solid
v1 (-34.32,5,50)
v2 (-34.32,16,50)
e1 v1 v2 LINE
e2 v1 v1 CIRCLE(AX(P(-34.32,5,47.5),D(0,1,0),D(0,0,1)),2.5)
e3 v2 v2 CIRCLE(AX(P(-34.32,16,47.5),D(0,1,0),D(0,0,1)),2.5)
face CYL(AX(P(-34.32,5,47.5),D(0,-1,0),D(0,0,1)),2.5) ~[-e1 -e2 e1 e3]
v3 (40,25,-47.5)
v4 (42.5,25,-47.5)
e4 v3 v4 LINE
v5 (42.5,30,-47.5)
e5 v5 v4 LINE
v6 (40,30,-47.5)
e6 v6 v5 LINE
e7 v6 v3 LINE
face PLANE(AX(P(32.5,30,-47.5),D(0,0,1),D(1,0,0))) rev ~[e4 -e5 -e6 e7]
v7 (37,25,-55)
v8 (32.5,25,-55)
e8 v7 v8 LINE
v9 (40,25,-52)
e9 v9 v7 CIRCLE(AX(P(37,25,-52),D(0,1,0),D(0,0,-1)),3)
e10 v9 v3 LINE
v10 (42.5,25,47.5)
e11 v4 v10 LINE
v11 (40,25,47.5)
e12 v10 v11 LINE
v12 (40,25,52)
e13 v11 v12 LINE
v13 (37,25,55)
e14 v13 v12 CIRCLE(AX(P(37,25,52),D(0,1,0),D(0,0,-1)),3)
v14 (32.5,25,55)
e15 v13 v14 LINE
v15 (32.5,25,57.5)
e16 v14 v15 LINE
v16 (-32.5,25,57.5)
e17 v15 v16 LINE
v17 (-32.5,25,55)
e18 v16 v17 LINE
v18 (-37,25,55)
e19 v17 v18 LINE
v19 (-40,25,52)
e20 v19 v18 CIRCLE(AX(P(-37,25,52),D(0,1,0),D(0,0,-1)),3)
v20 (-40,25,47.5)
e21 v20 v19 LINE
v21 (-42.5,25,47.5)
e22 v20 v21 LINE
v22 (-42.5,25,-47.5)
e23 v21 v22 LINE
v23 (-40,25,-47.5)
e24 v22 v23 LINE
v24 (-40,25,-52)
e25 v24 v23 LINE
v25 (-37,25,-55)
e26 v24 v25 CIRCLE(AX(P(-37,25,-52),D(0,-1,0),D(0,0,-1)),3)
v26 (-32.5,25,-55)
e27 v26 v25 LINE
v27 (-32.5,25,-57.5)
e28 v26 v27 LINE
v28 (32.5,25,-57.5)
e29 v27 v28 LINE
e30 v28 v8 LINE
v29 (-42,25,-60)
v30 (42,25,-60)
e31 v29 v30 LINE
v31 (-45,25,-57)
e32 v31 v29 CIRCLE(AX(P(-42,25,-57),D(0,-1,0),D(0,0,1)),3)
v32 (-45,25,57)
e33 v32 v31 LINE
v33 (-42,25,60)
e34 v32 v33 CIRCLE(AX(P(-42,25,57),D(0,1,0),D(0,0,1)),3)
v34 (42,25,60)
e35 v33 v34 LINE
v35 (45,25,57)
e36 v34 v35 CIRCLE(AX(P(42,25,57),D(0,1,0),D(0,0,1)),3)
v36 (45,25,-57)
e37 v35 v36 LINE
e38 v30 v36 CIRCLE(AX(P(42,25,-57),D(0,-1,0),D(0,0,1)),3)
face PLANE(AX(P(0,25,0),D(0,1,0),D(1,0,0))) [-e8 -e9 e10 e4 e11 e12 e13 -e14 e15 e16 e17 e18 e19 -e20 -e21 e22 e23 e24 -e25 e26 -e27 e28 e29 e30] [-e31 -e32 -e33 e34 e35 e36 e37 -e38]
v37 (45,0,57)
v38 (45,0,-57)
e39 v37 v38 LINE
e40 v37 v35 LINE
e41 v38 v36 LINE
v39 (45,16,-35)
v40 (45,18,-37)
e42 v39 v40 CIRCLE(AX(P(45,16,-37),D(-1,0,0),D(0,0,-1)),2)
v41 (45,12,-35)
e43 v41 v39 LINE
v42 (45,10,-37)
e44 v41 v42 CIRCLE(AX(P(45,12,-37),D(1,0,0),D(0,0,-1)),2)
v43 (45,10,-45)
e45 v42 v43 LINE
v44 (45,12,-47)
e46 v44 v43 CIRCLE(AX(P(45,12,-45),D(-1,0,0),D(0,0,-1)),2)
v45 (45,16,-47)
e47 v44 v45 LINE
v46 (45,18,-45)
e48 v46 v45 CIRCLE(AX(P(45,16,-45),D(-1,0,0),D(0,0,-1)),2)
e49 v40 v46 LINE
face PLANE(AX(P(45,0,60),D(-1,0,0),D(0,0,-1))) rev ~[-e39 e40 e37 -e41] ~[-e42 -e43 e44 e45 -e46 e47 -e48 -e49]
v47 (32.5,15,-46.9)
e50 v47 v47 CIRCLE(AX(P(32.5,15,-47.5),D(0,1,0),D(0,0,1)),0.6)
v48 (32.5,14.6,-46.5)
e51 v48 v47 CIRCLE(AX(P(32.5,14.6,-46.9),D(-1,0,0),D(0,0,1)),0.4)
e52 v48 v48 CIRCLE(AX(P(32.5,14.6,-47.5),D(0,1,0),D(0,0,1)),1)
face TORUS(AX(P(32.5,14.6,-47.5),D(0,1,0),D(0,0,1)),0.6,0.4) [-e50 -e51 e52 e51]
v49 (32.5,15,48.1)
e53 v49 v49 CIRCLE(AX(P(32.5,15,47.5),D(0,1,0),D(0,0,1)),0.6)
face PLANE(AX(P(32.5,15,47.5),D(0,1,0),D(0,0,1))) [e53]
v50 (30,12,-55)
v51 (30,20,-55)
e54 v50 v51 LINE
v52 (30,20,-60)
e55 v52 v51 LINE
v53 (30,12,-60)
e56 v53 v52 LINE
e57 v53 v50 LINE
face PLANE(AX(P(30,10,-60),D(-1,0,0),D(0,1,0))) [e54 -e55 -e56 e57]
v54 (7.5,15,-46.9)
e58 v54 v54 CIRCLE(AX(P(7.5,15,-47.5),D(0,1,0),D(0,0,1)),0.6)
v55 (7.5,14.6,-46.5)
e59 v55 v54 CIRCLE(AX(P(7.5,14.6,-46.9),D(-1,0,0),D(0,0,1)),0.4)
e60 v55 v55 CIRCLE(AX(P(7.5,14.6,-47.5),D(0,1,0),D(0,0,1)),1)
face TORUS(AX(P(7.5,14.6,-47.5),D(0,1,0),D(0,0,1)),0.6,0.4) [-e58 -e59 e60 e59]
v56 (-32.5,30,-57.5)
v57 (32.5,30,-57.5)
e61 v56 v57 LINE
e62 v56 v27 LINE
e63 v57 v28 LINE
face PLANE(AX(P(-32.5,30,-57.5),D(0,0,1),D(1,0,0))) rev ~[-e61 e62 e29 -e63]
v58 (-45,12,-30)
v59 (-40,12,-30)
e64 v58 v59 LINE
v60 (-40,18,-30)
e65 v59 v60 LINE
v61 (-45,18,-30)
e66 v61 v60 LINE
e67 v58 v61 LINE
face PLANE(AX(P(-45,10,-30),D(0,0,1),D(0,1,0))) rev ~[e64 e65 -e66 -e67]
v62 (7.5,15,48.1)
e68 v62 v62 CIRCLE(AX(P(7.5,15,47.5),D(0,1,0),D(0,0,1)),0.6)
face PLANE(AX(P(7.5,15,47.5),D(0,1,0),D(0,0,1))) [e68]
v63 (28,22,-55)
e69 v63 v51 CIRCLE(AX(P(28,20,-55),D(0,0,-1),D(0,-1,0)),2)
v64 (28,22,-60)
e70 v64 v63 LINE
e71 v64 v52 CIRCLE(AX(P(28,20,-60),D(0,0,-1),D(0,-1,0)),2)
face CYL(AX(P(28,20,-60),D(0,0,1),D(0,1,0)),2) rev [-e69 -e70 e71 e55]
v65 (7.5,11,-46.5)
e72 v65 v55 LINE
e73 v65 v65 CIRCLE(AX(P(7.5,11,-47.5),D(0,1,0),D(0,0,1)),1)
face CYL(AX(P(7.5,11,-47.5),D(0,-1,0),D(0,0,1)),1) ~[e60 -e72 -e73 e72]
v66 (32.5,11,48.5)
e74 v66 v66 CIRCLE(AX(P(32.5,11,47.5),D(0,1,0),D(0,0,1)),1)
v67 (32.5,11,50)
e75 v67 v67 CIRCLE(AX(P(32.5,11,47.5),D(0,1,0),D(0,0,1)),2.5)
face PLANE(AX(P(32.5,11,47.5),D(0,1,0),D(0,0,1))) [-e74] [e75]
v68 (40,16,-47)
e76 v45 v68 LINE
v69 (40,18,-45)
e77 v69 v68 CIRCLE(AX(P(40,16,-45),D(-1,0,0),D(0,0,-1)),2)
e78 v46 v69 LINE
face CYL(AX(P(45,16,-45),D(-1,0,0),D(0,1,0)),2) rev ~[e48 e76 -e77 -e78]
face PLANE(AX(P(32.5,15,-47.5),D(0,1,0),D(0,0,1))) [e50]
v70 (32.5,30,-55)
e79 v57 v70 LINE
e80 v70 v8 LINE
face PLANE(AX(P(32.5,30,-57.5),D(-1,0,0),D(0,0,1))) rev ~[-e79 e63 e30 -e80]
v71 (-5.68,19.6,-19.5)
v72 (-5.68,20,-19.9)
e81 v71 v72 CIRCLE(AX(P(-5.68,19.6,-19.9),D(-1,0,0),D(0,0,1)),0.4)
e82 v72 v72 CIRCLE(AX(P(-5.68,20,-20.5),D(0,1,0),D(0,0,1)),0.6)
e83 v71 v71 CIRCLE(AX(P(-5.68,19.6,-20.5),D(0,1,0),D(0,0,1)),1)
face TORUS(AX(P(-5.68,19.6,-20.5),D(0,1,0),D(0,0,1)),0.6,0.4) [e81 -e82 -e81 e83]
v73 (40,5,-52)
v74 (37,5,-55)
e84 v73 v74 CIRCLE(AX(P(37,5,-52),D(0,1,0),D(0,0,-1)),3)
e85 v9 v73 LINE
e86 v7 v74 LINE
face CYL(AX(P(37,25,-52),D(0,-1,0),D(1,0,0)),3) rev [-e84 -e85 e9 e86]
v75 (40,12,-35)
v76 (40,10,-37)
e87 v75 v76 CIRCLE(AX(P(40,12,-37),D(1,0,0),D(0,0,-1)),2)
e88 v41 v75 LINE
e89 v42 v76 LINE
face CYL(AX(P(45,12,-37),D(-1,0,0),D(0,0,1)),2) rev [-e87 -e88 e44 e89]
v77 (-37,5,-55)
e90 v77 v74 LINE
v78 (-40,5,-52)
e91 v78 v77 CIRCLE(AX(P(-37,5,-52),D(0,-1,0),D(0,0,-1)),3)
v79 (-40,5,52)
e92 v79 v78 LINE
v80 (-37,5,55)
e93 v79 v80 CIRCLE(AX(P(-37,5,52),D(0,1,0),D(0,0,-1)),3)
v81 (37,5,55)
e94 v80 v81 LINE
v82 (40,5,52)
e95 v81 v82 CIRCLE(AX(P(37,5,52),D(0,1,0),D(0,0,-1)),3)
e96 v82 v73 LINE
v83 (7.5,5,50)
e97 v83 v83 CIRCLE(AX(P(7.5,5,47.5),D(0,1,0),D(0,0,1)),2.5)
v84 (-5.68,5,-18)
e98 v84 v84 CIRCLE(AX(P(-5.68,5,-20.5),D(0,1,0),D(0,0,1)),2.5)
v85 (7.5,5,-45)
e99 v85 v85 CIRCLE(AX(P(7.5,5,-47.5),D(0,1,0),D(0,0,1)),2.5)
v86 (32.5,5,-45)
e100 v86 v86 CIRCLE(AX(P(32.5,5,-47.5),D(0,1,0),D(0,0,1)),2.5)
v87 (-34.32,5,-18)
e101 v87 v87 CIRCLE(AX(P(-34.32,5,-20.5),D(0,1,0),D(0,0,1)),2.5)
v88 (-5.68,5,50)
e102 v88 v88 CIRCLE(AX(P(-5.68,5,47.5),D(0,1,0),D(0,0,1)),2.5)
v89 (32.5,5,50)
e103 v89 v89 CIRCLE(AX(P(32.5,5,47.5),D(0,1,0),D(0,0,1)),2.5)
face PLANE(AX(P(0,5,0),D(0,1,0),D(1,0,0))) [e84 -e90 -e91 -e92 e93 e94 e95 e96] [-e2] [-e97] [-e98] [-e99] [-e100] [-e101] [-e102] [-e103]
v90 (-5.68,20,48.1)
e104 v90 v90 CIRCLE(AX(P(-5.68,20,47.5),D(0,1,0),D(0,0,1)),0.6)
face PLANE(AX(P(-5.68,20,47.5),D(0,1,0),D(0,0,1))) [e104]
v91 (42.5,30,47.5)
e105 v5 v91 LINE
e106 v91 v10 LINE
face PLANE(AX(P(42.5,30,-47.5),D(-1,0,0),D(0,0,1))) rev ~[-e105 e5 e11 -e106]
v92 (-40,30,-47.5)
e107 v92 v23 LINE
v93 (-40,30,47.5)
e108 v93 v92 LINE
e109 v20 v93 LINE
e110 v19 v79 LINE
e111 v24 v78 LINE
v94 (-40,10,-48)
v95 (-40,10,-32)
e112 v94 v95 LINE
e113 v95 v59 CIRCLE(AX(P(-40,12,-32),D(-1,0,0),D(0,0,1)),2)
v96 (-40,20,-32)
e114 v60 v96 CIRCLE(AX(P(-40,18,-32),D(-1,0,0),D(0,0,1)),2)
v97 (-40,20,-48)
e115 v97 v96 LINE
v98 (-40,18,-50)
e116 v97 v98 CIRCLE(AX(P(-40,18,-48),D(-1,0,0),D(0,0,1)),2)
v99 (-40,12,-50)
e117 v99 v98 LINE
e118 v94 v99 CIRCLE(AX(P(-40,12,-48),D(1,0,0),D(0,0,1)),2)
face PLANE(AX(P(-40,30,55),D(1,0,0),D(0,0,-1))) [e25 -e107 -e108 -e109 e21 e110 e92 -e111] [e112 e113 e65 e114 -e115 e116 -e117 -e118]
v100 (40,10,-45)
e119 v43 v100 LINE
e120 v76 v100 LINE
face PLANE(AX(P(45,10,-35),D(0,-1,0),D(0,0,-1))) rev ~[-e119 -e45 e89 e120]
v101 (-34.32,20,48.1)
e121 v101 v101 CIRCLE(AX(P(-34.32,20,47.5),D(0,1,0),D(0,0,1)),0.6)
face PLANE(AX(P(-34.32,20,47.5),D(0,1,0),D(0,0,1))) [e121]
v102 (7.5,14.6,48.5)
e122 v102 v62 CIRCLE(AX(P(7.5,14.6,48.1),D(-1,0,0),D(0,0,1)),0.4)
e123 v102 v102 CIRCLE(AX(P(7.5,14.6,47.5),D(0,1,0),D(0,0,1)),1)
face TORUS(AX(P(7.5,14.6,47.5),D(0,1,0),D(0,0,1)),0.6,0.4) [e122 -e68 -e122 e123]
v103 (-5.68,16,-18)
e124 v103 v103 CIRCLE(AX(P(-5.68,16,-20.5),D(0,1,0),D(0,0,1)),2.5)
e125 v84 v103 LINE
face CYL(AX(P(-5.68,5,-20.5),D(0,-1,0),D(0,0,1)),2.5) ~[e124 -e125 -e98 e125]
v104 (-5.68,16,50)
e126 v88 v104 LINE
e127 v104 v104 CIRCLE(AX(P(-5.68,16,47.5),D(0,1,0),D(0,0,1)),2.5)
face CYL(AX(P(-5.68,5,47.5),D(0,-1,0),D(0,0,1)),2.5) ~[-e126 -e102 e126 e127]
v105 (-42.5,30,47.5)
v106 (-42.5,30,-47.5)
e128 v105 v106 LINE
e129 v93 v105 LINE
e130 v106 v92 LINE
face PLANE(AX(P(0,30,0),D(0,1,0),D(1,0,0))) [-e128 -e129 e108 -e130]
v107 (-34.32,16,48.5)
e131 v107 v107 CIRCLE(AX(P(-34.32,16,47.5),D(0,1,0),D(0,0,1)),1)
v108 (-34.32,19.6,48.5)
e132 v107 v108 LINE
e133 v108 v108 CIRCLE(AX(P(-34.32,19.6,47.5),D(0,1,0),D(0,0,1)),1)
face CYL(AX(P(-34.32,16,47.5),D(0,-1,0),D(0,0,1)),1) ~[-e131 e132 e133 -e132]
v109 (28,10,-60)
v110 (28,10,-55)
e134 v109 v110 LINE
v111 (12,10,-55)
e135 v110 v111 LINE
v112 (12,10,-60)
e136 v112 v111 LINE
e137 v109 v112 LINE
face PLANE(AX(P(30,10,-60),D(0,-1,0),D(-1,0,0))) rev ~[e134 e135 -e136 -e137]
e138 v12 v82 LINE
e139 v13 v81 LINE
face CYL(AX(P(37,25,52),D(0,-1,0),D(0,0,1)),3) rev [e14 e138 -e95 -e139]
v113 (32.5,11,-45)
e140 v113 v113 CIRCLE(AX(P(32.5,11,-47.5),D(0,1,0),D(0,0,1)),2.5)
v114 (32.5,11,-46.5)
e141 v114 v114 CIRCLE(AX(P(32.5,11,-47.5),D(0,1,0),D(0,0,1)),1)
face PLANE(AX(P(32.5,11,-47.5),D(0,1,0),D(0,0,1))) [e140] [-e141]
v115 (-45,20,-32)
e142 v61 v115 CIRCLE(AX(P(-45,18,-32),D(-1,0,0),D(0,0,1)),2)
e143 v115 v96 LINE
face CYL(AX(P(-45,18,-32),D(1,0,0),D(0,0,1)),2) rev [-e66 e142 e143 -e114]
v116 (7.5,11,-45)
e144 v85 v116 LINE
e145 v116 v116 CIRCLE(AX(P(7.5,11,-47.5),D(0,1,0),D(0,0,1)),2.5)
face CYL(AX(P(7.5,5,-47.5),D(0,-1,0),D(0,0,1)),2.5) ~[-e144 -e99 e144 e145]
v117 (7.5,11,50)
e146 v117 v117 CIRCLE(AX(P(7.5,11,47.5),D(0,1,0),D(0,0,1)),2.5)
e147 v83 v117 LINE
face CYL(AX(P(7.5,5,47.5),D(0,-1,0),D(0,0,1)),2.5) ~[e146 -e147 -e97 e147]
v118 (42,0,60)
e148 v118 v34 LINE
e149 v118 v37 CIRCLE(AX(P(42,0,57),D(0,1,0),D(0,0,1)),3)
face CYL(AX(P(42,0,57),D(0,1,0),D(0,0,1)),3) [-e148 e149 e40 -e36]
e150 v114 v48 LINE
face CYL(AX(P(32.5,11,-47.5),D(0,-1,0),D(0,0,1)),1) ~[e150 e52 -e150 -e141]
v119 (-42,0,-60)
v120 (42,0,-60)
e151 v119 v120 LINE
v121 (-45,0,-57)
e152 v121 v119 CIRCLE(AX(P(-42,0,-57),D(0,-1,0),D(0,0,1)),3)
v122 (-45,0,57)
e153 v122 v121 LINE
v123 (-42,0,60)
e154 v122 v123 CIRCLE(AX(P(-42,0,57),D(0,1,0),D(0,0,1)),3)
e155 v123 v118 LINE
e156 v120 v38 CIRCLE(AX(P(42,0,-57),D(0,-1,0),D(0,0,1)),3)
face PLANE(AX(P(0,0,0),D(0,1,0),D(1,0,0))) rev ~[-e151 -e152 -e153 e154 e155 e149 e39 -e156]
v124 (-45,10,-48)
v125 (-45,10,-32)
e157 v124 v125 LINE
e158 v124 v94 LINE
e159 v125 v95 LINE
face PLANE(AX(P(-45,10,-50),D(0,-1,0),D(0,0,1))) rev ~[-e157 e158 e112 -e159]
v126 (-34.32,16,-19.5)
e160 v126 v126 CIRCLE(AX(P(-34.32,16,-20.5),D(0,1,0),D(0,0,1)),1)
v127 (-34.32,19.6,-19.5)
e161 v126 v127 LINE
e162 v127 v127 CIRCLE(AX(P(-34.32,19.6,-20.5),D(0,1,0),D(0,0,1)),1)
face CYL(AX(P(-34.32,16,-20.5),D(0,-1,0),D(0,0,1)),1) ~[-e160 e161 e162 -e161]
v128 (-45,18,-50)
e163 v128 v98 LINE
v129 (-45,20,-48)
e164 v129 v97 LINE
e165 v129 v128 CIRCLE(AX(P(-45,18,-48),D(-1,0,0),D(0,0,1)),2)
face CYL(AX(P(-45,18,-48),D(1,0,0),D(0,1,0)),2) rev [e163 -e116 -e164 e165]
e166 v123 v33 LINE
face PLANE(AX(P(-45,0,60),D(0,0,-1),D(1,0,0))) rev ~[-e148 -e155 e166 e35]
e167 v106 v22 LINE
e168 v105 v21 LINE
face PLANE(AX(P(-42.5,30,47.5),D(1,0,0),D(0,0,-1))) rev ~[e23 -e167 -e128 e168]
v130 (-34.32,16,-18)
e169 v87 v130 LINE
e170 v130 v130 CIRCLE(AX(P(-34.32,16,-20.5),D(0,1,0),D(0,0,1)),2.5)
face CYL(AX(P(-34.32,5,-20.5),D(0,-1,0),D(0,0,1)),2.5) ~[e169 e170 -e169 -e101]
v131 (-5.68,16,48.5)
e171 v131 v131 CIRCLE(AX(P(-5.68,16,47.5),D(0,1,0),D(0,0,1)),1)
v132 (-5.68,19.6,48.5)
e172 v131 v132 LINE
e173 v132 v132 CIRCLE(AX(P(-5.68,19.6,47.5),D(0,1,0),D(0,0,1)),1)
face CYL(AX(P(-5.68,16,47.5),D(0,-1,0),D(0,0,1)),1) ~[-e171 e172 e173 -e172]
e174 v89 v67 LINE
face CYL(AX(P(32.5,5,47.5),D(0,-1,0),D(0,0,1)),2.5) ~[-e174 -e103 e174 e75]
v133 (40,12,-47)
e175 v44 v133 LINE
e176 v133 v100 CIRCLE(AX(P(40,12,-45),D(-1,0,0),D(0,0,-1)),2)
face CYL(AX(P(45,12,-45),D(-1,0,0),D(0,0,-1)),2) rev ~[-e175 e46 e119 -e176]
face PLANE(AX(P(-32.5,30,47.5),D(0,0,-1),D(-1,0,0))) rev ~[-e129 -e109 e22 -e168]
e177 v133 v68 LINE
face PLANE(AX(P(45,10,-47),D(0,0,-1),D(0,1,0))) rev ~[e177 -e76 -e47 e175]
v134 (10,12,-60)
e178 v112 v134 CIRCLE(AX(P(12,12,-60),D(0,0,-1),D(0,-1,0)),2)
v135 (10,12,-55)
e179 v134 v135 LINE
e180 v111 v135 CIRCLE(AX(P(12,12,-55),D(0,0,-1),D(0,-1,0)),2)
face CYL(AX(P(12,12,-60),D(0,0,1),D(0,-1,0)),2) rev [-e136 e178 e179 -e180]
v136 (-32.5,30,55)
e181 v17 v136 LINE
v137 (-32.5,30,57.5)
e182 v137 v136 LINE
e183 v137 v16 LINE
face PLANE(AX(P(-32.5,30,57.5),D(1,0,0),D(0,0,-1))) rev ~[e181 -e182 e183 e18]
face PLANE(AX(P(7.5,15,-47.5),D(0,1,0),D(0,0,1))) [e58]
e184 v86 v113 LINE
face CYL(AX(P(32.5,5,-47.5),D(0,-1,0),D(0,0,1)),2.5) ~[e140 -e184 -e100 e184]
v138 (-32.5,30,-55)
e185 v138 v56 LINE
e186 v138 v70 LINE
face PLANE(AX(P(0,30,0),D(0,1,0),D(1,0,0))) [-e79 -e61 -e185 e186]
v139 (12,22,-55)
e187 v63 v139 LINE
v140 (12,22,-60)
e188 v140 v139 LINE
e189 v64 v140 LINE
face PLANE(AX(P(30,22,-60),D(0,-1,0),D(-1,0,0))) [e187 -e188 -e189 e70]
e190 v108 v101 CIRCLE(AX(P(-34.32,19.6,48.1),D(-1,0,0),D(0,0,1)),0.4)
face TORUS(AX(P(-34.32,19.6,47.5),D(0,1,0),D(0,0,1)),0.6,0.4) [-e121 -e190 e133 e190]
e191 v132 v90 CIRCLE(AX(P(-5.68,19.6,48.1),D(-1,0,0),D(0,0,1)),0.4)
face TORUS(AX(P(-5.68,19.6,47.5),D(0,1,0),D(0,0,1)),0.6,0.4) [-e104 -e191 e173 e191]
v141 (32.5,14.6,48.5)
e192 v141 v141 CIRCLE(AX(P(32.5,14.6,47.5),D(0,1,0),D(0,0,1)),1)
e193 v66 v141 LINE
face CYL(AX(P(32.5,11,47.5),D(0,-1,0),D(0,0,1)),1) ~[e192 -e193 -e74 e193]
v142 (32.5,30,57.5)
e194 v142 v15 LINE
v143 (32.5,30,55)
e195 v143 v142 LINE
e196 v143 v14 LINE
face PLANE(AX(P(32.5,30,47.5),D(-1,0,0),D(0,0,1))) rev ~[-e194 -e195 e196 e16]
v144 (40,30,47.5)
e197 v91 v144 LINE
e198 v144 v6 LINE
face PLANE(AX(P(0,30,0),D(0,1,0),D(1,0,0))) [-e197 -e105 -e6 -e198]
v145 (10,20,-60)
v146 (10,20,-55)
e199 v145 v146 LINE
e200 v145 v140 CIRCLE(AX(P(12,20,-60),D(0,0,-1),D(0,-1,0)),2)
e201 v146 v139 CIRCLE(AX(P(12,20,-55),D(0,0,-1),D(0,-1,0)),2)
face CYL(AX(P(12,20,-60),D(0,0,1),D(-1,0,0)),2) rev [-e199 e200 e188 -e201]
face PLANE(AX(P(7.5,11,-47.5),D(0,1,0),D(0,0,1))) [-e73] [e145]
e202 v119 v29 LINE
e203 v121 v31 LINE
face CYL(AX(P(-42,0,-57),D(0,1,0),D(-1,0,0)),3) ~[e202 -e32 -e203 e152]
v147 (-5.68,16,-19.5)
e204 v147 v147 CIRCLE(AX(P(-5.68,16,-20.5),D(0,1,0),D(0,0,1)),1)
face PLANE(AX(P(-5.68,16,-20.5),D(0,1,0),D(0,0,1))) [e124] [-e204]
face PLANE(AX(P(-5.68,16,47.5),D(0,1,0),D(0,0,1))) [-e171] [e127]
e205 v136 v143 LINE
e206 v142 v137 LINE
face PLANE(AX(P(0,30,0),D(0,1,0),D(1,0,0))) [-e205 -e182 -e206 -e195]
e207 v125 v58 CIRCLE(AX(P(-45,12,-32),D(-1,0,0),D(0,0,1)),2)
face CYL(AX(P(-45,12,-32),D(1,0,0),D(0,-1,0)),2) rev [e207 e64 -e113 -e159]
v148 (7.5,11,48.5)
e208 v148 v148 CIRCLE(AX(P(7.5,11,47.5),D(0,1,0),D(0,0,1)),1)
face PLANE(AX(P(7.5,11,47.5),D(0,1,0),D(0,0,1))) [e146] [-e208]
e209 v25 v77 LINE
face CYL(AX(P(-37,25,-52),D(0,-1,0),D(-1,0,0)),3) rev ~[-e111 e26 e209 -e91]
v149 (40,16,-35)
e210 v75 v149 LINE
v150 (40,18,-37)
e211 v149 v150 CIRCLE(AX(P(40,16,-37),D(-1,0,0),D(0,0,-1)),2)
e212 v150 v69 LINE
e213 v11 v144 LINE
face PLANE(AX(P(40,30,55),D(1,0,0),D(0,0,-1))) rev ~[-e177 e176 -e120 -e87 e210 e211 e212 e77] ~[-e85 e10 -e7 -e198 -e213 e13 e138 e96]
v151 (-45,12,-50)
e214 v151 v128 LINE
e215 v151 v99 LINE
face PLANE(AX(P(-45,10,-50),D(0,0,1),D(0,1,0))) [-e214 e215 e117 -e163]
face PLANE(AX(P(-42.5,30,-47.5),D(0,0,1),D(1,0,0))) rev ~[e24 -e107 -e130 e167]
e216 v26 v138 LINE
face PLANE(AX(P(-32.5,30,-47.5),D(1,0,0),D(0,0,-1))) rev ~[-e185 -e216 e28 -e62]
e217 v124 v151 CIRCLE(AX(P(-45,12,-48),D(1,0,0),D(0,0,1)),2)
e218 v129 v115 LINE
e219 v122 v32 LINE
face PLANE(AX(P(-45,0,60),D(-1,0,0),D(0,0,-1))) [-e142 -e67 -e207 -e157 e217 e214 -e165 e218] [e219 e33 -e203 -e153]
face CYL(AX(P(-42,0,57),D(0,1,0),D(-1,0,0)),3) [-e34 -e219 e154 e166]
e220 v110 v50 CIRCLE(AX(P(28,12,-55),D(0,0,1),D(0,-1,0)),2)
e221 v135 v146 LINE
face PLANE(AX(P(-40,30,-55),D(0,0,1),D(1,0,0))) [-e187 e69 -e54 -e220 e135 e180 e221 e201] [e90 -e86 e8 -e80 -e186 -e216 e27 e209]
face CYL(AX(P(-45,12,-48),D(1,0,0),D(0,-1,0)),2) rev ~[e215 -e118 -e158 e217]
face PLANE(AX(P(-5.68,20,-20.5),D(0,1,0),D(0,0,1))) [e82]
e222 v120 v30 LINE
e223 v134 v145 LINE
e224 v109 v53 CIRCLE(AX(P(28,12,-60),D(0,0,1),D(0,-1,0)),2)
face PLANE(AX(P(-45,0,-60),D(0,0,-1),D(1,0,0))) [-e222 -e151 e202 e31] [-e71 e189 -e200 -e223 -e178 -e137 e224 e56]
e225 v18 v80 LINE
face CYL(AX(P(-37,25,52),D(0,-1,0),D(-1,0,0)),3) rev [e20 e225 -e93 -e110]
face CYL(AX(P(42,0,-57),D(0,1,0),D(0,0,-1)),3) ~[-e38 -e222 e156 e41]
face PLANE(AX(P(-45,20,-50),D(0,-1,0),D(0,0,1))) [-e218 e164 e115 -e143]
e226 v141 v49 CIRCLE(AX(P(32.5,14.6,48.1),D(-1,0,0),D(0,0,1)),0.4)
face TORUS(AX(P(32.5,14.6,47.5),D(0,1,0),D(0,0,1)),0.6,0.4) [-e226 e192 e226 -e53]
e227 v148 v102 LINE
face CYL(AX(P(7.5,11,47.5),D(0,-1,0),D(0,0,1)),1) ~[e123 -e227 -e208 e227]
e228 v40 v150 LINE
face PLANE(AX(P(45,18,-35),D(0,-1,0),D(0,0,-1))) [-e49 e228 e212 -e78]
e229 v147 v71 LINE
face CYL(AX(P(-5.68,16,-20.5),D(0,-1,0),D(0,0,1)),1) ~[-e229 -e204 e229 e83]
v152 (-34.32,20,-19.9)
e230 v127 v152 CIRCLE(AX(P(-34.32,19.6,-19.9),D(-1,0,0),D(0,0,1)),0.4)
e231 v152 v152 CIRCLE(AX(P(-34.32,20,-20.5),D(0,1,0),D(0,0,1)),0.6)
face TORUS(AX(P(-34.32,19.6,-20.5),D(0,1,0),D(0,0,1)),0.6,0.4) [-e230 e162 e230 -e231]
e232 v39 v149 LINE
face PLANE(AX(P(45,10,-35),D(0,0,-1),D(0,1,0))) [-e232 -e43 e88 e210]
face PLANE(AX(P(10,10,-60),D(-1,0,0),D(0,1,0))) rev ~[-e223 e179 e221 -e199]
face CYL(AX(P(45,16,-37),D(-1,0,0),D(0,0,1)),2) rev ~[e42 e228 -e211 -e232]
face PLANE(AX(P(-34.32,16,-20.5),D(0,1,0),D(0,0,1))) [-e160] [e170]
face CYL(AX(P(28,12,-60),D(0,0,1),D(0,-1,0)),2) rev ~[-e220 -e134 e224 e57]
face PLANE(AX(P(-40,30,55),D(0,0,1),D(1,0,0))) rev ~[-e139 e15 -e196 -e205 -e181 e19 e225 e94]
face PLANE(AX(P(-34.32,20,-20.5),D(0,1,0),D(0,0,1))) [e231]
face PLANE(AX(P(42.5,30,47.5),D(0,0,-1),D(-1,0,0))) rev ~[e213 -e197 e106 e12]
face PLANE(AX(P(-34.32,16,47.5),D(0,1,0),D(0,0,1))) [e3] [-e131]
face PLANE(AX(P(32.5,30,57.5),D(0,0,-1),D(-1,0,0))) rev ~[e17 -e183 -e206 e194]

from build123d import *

# Parameters (mm, degrees)
CROQUIS1_W              = 90
CROQUIS1_H              = 120
SALIENTE_EXTRUIR1_DEPTH = 30
CROQUIS2_W              = 80
CROQUIS2_H              = 110
CORTAR_EXTRUIR1_DEPTH   = 25
CROQUIS3_W              = 90
CROQUIS3_H              = 120
CORTAR_EXTRUIR2_DEPTH   = 5
CROQUIS4_R              = 2.5
SALIENTE_EXTRUIR2_DEPTH = 6
CROQUIS5_R              = 1
SALIENTE_EXTRUIR3_DEPTH = 4
CROQUIS7_R              = 2.5
SALIENTE_EXTRUIR4_DEPTH = 11
CROQUIS8_R              = 1
SALIENTE_EXTRUIR5_DEPTH = 4
CROQUIS10_W             = 20
CROQUIS10_H             = 12
CORTAR_EXTRUIR3_DEPTH   = 5
CROQUIS11_W             = 12
CROQUIS11_H             = 8
CORTAR_EXTRUIR4_DEPTH   = 5
CROQUIS12_W             = 20
CROQUIS12_H             = 10
CORTAR_EXTRUIR5_DEPTH   = 5
REDONDEO1_R             = 3
REDONDEO2_R             = 2
REDONDEO3_R             = 3
REDONDEO4_R             = 0.4


with BuildPart() as part:
    # Croquis1 → Saliente-Extruir1 (new body)
    with BuildSketch(Plane(origin=(0, 0, 0), x_dir=(1, 0, 0), z_dir=(0, 1, 0))):
        Rectangle(CROQUIS1_W, CROQUIS1_H)
    extrude(amount=SALIENTE_EXTRUIR1_DEPTH)

    # Croquis2 → Cortar-Extruir1 (cut)
    with BuildSketch(Plane(origin=(0, 30, 0), x_dir=(1, 0, 0), z_dir=(0, 1, 0))):
        Rectangle(CROQUIS2_W, CROQUIS2_H)
    extrude(amount=-CORTAR_EXTRUIR1_DEPTH, mode=Mode.SUBTRACT)

    # Croquis3 → Cortar-Extruir2 (cut)
    with BuildSketch(Plane(origin=(0, 30, 0), x_dir=(1, 0, 0), z_dir=(0, 1, 0))):
        Rectangle(CROQUIS3_W, CROQUIS3_H)
        Polygon((32.5, -57.5), (-32.5, -57.5), (-32.5, -47.5), (-42.5, -47.5), (-42.5, 47.5), (-32.5, 47.5), (-32.5, 57.5), (32.5, 57.5), (32.5, 47.5), (42.5, 47.5), (42.5, -47.5), (32.5, -47.5), align=None, mode=Mode.SUBTRACT)
    extrude(amount=-CORTAR_EXTRUIR2_DEPTH, mode=Mode.SUBTRACT)

    # Croquis4 → Saliente-Extruir2 (add)
    with BuildSketch(Plane(origin=(0, 5, 0), x_dir=(1, 0, 0), z_dir=(0, 1, 0))):
        with Locations(Location((7.5, 47.5, 0), (0, 0, 270))):
            Circle(CROQUIS4_R)
        with Locations(Location((32.5, 47.5, 0), (0, 0, 270))):
            Circle(CROQUIS4_R)
        with Locations(Location((32.5, -47.5, 0), (0, 0, 270))):
            Circle(CROQUIS4_R)
        with Locations(Location((7.5, -47.5, 0), (0, 0, 270))):
            Circle(CROQUIS4_R)
    extrude(amount=SALIENTE_EXTRUIR2_DEPTH)

    # Croquis5 → Saliente-Extruir3 (add)
    with BuildSketch(Plane(origin=(0, 11, 0), x_dir=(1, 0, 0), z_dir=(0, 1, 0))):
        with Locations(Location((7.5, 47.5, 0), (0, 0, 270))):
            Circle(CROQUIS5_R)
        with Locations(Location((32.5, 47.5, 0), (0, 0, 270))):
            Circle(CROQUIS5_R)
        with Locations(Location((32.5, -47.5, 0), (0, 0, 270))):
            Circle(CROQUIS5_R)
        with Locations(Location((7.5, -47.5, 0), (0, 0, 270))):
            Circle(CROQUIS5_R)
    extrude(amount=SALIENTE_EXTRUIR3_DEPTH)

    # Croquis7 → Saliente-Extruir4 (add)
    with BuildSketch(Plane(origin=(0, 5, 0), x_dir=(1, 0, 0), z_dir=(0, 1, 0))):
        with Locations(Location((-34.32, 20.5, 0), (0, 0, 270))):
            Circle(CROQUIS7_R)
        with Locations(Location((-5.68, 20.5, 0), (0, 0, 270))):
            Circle(CROQUIS7_R)
        with Locations(Location((-5.68, -47.5, 0), (0, 0, 270))):
            Circle(CROQUIS7_R)
        with Locations(Location((-34.32, -47.5, 0), (0, 0, 270))):
            Circle(CROQUIS7_R)
    extrude(amount=SALIENTE_EXTRUIR4_DEPTH)

    # Croquis8 → Saliente-Extruir5 (add)
    with BuildSketch(Plane(origin=(0, 16, 0), x_dir=(1, 0, 0), z_dir=(0, 1, 0))):
        with Locations(Location((-34.32, 20.5, 0), (0, 0, 270))):
            Circle(CROQUIS8_R)
        with Locations(Location((-5.68, 20.5, 0), (0, 0, 270))):
            Circle(CROQUIS8_R)
        with Locations(Location((-5.68, -47.5, 0), (0, 0, 270))):
            Circle(CROQUIS8_R)
        with Locations(Location((-34.32, -47.5, 0), (0, 0, 270))):
            Circle(CROQUIS8_R)
    extrude(amount=SALIENTE_EXTRUIR5_DEPTH)

    # Croquis10 → Cortar-Extruir3 (cut)
    with BuildSketch(Plane(origin=(0, 0, -60), x_dir=(-1, 0, 0), z_dir=(0, 0, -1))):
        with Locations((-20, 16)):
            Rectangle(CROQUIS10_W, CROQUIS10_H)
    extrude(amount=-CORTAR_EXTRUIR3_DEPTH, mode=Mode.SUBTRACT)

    # Croquis11 → Cortar-Extruir4 (cut)
    with BuildSketch(Plane(origin=(45, 0, 0), x_dir=(0, 0, -1), z_dir=(1, 0, 0))):
        with Locations((41, 14)):
            Rectangle(CROQUIS11_W, CROQUIS11_H)
    extrude(amount=-CORTAR_EXTRUIR4_DEPTH, mode=Mode.SUBTRACT)

    # Croquis12 → Cortar-Extruir5 (cut)
    with BuildSketch(Plane.ZY.offset(45)):
        with Locations((-40, 15)):
            Rectangle(CROQUIS12_W, CROQUIS12_H)
    extrude(amount=-CORTAR_EXTRUIR5_DEPTH, mode=Mode.SUBTRACT)

    # Redondeo1
    redondeo1_edges = [part.edges().sort_by_distance(p)[0] for p in [
        (-45, 12.5, -60),
        (45, 12.5, -60),
        (45, 12.5, 60),
        (-45, 12.5, 60),
    ]]
    fillet(redondeo1_edges, radius=REDONDEO1_R)

    # Redondeo2
    redondeo2_edges = [part.edges().sort_by_distance(p)[0] for p in [
        (30, 10, -57.5),
        (30, 22, -57.5),
        (10, 22, -57.5),
        (10, 10, -57.5),
        (42.5, 10, -35),
        (42.5, 18, -35),
        (42.5, 18, -47),
        (42.5, 10, -47),
        (-42.5, 10, -50),
        (-42.5, 20, -50),
        (-42.5, 20, -30),
        (-42.5, 10, -30),
    ]]
    fillet(redondeo2_edges, radius=REDONDEO2_R)

    # Redondeo3
    redondeo3_edges = [part.edges().sort_by_distance(p)[0] for p in [
        (-40, 15, 55),
        (-40, 15, -55),
        (40, 15, -55),
        (40, 15, 55),
    ]]
    fillet(redondeo3_edges, radius=REDONDEO3_R)

    # Redondeo4
    redondeo4_edges = [part.edges().sort_by_distance(p)[0] for p in [
        (7.5, 15, -48.5),
        (32.5, 15, -48.5),
        (32.5, 15, 46.5),
        (7.5, 15, 46.5),
        (-34.32, 20, -21.5),
        (-5.68, 20, -21.5),
        (-5.68, 20, 46.5),
        (-34.32, 20, 46.5),
    ]]
    fillet(redondeo4_edges, radius=REDONDEO4_R)


solid = part.part
